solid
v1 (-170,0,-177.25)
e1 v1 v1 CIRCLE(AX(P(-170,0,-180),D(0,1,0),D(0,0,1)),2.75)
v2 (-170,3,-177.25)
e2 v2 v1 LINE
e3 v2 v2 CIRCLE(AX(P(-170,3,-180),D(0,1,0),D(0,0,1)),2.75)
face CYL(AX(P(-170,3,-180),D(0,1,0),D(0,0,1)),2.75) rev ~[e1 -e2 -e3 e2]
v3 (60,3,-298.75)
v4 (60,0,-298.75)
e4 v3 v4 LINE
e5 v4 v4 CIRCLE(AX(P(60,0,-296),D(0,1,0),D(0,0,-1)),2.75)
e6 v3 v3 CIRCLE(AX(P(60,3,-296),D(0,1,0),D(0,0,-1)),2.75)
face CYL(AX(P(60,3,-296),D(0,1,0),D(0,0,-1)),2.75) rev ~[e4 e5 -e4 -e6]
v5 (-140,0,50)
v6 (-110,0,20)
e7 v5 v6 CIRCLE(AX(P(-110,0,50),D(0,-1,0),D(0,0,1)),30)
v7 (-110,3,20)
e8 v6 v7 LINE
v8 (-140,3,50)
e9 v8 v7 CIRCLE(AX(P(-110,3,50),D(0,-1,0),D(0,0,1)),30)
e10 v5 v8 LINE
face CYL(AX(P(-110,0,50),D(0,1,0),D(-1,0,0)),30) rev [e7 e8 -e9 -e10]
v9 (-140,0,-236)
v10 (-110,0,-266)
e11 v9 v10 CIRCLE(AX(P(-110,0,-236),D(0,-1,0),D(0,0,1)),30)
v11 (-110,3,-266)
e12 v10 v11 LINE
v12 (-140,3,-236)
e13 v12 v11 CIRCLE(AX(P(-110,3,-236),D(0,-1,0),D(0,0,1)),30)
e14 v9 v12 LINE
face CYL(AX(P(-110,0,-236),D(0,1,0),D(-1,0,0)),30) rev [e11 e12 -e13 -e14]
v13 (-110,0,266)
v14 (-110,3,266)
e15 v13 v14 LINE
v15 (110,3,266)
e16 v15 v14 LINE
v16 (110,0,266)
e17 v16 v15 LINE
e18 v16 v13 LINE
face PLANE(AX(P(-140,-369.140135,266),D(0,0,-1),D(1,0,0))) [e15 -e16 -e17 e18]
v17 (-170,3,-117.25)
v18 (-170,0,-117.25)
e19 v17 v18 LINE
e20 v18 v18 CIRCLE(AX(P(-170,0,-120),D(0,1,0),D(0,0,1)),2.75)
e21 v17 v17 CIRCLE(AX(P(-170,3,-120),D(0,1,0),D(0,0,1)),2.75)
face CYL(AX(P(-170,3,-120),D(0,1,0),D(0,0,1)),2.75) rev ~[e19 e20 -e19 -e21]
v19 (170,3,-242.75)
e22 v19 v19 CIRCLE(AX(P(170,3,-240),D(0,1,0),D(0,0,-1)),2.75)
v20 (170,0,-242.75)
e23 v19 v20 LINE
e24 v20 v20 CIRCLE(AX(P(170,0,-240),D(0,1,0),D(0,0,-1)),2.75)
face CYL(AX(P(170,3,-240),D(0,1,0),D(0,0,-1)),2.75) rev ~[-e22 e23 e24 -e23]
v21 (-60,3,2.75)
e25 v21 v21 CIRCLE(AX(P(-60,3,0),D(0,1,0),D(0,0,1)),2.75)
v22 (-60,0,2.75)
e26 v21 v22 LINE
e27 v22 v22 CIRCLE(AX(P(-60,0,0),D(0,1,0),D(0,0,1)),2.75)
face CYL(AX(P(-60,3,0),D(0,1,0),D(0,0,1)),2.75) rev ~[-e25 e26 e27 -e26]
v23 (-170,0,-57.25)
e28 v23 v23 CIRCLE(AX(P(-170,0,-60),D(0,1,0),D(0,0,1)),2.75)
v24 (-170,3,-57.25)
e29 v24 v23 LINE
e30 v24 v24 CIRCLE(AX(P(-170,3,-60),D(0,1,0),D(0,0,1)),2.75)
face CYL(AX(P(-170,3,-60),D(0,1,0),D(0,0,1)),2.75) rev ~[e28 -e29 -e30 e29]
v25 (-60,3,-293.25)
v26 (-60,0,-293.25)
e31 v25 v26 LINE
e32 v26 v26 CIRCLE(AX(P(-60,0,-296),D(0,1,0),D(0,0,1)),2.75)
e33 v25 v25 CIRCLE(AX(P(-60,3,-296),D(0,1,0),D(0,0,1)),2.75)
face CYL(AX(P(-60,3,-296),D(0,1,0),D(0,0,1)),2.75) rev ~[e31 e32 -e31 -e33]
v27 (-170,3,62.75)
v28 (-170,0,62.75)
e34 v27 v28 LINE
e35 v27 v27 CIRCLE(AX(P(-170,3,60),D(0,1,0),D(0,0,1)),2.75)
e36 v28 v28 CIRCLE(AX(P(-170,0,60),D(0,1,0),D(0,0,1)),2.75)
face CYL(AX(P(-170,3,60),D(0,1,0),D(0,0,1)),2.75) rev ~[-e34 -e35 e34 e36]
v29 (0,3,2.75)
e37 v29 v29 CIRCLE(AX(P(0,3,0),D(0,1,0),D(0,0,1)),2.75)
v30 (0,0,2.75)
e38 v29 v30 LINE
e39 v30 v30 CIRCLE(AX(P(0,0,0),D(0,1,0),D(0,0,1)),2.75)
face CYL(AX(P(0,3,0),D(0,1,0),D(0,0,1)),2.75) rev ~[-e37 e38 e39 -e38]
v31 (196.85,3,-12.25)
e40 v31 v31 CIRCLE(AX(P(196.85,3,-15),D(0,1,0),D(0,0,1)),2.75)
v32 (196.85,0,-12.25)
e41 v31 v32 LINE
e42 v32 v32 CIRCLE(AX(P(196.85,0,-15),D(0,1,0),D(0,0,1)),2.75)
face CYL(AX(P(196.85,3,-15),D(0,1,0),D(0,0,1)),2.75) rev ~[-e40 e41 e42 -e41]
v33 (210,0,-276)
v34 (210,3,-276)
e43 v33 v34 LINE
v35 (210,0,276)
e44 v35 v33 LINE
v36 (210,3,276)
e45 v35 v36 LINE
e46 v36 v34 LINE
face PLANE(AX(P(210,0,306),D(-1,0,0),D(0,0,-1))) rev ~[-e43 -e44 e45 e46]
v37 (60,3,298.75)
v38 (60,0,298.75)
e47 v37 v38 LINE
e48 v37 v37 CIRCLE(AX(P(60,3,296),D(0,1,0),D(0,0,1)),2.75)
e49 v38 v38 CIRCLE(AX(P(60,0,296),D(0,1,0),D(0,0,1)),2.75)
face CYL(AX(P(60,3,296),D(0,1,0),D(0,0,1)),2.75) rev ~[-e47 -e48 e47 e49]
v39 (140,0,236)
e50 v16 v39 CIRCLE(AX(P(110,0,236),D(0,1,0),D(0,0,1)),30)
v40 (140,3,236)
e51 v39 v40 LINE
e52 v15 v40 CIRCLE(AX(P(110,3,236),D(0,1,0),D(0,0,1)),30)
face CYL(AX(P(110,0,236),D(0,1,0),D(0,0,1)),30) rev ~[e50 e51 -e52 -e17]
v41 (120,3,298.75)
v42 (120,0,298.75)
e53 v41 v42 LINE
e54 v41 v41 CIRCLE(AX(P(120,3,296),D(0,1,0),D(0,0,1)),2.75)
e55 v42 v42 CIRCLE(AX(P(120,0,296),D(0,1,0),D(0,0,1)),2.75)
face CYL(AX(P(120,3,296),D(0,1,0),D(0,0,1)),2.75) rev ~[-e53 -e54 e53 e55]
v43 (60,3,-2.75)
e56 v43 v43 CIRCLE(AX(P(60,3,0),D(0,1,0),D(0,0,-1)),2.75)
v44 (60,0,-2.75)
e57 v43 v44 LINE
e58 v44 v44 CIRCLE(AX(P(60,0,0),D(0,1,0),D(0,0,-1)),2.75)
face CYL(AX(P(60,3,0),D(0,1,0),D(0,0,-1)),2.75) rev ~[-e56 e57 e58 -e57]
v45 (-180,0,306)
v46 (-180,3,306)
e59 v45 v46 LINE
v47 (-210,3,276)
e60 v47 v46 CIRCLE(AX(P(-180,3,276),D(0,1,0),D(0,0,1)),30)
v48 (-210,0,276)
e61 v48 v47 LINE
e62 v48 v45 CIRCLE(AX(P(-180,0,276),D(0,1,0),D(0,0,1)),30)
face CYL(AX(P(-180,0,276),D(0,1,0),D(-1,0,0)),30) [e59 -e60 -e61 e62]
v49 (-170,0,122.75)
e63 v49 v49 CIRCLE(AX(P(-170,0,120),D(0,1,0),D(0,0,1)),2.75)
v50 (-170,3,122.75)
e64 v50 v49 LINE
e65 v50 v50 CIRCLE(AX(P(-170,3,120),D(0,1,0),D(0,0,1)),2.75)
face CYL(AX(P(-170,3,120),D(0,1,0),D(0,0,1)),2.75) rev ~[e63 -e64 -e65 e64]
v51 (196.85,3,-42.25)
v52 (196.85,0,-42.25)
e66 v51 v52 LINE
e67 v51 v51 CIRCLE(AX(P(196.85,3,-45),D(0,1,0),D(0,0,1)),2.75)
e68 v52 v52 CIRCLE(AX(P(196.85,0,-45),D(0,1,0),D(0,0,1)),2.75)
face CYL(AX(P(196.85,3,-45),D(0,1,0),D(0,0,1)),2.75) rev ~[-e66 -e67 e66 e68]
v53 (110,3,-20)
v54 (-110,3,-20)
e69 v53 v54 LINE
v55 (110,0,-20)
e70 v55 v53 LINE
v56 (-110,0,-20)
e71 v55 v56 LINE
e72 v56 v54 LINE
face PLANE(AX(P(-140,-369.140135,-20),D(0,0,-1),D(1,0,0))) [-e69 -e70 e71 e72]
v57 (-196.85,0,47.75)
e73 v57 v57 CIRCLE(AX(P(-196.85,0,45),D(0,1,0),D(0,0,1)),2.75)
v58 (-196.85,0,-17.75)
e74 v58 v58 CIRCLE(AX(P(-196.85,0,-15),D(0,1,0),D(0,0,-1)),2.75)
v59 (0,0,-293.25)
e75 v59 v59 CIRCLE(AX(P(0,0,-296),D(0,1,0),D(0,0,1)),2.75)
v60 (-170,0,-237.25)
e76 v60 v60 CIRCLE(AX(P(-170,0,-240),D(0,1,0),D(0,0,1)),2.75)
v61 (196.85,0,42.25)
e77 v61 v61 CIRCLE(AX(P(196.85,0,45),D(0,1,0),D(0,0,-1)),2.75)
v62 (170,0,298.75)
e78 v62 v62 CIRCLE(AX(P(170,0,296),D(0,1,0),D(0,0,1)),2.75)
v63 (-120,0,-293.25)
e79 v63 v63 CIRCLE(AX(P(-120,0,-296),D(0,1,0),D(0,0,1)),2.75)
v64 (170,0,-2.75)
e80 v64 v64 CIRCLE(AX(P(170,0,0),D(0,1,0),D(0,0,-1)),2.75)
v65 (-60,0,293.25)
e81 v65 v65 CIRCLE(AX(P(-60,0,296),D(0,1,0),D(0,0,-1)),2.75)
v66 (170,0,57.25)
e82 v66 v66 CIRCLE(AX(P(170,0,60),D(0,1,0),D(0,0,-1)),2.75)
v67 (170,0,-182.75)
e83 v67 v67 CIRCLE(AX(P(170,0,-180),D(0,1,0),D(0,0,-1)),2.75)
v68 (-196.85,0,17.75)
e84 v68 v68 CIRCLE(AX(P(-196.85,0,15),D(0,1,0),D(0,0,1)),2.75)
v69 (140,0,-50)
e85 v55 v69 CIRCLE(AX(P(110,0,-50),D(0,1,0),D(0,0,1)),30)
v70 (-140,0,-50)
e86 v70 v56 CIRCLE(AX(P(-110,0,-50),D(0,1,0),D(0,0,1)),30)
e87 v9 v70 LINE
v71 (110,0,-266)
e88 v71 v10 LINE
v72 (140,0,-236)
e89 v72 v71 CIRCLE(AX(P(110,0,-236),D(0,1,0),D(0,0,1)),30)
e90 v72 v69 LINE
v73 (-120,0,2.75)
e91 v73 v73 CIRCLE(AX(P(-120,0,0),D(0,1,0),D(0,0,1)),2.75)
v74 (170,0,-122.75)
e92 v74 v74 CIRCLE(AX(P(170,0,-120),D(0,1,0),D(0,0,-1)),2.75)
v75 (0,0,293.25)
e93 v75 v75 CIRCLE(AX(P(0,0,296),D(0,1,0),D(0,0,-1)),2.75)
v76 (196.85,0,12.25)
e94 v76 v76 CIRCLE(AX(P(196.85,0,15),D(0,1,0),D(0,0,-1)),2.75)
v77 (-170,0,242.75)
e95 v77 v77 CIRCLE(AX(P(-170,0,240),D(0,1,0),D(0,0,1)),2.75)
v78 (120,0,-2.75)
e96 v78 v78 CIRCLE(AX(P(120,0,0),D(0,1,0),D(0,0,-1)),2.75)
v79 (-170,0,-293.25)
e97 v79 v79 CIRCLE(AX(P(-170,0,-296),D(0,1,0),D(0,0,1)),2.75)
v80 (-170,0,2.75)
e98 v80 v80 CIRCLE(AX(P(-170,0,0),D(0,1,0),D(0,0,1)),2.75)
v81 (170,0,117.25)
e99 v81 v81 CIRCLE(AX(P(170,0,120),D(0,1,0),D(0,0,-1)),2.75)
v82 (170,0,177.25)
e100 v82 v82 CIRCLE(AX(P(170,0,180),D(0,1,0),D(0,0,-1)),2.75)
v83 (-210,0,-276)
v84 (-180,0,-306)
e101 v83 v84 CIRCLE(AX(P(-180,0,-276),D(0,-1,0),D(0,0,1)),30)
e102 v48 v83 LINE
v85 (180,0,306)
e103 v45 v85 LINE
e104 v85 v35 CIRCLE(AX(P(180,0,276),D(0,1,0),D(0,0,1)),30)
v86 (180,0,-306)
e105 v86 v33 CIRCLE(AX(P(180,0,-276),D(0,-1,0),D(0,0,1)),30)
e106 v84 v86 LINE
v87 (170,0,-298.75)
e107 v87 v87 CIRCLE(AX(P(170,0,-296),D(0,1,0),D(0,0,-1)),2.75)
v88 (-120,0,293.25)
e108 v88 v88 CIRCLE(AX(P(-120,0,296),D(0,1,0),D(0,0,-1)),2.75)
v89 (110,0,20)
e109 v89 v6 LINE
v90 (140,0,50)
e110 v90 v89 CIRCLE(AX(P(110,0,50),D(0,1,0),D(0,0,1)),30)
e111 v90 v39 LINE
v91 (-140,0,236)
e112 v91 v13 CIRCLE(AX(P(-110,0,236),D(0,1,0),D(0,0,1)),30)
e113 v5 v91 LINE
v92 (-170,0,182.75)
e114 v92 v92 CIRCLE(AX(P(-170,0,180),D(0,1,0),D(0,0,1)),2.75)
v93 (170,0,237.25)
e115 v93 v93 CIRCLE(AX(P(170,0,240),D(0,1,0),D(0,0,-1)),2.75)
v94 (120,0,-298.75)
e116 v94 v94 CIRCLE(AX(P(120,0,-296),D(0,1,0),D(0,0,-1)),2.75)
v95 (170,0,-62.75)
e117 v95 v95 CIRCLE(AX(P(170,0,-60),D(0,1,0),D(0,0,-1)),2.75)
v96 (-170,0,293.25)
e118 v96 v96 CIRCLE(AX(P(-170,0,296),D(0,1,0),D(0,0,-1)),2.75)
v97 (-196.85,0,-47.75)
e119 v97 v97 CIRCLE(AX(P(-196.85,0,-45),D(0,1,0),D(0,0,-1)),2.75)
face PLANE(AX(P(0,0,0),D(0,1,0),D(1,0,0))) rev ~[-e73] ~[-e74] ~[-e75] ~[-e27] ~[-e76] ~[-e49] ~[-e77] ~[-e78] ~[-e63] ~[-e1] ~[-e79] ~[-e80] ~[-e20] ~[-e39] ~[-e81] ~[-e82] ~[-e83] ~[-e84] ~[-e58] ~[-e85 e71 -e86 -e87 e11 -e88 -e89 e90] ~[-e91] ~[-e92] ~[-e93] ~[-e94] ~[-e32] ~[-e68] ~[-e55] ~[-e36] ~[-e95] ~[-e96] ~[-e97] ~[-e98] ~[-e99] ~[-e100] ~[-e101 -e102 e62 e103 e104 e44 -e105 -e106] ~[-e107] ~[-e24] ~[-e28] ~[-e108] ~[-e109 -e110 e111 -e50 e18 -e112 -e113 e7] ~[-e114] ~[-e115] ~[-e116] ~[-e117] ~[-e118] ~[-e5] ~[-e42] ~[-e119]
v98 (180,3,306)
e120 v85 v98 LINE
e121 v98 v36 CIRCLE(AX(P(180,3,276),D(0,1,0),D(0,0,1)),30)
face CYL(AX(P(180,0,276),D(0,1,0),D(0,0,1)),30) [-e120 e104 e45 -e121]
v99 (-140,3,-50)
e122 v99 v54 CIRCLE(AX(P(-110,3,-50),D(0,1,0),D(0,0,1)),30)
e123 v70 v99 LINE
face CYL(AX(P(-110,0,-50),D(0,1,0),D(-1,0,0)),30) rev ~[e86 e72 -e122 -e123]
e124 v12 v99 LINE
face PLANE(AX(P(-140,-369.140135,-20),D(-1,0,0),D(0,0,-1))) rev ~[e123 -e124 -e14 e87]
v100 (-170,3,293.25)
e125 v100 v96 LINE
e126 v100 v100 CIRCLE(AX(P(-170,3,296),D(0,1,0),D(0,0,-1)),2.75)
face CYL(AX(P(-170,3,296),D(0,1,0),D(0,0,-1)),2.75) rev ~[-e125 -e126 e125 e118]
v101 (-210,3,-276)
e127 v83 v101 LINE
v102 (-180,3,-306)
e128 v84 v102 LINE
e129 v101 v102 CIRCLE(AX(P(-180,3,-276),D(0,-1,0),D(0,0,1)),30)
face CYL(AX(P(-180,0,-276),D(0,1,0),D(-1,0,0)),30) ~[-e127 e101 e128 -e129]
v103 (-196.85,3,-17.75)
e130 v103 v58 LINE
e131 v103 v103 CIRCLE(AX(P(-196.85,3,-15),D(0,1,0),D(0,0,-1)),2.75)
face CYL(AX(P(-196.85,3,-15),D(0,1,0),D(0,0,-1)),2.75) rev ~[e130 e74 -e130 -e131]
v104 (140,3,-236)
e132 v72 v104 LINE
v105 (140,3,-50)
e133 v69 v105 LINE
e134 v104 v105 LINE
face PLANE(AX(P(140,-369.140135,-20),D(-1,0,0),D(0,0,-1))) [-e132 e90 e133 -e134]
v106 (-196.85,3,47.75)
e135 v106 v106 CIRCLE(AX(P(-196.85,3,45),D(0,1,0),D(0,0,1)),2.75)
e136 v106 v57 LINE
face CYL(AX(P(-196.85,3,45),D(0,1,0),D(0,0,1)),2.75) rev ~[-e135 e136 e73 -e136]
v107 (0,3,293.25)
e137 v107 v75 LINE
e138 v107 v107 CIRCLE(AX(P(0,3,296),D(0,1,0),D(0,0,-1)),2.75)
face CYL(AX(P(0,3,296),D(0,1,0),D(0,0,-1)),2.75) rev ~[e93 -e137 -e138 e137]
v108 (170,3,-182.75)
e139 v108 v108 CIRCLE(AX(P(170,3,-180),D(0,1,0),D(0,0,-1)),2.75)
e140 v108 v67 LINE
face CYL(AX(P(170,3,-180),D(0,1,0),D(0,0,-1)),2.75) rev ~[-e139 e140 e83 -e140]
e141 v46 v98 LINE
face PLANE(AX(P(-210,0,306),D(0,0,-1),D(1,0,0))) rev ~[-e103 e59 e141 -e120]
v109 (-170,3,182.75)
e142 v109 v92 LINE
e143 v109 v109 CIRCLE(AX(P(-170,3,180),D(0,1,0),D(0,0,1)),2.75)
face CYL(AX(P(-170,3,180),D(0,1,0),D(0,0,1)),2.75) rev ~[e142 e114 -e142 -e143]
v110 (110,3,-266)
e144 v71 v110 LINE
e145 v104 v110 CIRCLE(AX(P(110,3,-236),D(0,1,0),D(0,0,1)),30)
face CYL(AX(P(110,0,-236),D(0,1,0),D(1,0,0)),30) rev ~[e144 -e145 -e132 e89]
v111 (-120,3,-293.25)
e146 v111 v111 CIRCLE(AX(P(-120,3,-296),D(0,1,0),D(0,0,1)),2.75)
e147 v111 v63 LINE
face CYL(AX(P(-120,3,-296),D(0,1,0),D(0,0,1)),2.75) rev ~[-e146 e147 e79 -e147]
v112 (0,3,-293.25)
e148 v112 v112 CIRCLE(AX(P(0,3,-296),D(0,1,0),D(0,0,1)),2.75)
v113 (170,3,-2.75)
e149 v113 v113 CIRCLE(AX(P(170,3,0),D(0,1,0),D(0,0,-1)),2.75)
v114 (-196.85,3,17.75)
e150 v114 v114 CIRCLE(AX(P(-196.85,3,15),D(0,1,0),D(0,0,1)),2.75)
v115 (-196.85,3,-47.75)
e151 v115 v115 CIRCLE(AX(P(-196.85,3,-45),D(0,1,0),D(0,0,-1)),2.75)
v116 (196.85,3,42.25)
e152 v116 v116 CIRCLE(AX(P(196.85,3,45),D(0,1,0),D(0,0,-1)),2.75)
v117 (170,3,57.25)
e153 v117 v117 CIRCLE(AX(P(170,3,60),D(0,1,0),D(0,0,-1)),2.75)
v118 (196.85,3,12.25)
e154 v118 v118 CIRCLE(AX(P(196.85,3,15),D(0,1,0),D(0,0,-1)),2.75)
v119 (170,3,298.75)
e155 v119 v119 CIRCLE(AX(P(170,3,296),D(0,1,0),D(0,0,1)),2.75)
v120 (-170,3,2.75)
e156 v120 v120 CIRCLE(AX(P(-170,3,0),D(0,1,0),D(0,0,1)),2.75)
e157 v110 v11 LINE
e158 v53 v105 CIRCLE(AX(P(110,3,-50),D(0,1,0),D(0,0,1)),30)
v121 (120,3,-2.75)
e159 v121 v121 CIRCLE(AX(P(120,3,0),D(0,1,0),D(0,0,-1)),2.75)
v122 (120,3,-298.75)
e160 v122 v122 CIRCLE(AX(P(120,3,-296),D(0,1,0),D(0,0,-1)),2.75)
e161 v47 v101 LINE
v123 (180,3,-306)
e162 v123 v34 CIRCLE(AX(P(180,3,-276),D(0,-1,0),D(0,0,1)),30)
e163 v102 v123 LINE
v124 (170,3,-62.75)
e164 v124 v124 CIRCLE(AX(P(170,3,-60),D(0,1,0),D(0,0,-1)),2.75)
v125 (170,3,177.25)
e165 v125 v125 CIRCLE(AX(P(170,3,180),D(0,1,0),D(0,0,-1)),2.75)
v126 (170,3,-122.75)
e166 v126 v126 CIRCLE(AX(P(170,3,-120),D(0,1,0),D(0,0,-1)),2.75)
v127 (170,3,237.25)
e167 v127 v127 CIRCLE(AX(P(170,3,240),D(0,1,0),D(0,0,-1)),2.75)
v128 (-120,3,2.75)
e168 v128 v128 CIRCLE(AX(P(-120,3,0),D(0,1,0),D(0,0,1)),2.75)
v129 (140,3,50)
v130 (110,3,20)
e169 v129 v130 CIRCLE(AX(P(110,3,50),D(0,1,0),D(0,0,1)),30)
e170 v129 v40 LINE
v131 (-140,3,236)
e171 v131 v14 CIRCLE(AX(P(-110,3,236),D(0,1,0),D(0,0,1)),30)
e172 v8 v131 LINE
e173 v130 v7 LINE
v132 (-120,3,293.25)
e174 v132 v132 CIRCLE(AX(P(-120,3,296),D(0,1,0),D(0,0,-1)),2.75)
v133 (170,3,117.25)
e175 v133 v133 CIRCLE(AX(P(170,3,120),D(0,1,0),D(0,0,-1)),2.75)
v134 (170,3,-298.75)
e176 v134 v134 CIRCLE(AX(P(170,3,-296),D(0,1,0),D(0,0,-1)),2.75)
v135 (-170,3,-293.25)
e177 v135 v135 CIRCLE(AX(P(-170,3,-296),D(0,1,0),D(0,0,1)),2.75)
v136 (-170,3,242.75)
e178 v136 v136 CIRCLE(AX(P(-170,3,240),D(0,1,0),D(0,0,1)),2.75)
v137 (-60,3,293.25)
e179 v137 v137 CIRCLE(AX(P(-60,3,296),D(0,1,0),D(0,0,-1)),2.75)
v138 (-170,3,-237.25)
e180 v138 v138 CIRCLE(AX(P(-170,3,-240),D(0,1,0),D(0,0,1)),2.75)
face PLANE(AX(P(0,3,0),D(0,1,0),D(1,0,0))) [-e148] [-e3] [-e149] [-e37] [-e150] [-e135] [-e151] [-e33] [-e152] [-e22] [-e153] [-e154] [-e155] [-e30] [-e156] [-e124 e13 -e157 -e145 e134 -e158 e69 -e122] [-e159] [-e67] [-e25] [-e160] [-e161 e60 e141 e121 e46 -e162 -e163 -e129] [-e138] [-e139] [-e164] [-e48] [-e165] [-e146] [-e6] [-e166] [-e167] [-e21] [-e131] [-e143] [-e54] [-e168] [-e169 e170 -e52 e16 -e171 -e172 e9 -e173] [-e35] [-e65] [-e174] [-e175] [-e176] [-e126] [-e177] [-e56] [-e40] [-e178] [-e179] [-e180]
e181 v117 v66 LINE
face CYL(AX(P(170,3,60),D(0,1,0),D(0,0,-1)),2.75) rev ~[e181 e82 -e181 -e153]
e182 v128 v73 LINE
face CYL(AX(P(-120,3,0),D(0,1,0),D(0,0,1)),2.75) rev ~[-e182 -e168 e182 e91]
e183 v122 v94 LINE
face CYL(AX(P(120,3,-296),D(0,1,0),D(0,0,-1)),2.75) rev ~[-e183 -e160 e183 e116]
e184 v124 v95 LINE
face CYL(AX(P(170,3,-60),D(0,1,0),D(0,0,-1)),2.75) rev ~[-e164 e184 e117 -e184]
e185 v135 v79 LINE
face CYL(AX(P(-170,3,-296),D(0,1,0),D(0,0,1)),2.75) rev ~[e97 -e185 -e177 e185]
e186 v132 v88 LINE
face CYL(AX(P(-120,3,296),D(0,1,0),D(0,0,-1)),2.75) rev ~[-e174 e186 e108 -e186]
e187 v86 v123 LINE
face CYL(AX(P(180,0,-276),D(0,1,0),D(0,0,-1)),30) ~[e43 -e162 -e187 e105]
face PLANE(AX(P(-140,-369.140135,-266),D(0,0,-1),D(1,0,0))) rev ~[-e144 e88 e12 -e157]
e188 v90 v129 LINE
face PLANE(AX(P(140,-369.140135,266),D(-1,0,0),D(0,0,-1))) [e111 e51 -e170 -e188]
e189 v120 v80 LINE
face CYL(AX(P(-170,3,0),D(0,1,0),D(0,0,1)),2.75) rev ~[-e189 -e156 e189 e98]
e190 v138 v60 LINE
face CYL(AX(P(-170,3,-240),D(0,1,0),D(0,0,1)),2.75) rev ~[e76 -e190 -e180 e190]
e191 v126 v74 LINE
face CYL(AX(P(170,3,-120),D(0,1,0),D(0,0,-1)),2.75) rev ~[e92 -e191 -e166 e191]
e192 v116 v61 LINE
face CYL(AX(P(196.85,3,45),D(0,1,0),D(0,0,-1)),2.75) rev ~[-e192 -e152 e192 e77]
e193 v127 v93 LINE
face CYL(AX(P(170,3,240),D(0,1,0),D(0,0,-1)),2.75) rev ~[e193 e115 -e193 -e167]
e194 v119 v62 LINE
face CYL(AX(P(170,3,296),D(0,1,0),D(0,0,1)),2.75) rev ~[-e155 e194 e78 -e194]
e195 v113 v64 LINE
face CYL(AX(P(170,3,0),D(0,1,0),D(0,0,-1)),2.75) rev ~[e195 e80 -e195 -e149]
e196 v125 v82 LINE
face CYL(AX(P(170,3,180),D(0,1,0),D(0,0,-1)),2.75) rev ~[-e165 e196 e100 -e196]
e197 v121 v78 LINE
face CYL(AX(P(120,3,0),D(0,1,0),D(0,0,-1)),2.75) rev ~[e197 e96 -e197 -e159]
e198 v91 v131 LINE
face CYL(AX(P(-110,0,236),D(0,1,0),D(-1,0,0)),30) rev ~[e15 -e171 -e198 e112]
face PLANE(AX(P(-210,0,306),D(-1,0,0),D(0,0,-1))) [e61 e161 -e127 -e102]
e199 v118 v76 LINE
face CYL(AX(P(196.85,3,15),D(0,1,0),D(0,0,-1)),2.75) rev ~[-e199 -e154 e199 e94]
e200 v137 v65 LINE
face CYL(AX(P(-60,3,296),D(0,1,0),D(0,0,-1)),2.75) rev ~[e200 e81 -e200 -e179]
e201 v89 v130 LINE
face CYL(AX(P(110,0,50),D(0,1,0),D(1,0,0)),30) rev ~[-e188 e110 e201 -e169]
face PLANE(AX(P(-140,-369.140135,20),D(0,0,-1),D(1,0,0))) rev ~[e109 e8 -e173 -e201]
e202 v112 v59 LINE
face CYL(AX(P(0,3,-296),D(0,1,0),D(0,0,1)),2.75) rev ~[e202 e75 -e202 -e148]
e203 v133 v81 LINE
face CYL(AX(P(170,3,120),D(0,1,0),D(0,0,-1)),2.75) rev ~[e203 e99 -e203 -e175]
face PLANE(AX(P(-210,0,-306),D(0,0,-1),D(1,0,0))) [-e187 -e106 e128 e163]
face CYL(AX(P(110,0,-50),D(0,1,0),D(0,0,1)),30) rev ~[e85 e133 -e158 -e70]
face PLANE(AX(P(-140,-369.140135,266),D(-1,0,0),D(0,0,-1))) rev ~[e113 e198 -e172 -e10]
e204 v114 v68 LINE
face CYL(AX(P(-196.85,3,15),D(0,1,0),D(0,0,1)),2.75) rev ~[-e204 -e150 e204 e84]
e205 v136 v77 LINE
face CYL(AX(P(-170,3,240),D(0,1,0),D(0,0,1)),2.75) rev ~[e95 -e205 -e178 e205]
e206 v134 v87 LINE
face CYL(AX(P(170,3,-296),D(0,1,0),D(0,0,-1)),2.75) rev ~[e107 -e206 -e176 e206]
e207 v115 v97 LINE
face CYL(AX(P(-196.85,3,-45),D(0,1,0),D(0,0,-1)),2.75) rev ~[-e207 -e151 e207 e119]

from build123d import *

# Parameters (mm, degrees)
SKETCH1_W               = 420
SKETCH1_H               = 612
BOSS_EXTRUDE1_DEPTH     = 3
SKETCH_1_R              = 2.75
CUT_EXTRUDE_1_DEPTH     = 372.140135259
CUT_EXTRUDE1_DEPTH      = 372.140135259
CUT_EXTRUDE1_DEPTH_BACK = 372.140135259
SKETCH2_W               = 280
SKETCH2_H               = 246
FILLET1_R               = 30
FILLET2_R               = 30


with BuildPart() as part:
    # Sketch1 → Boss-Extrude1 (new body)
    with BuildSketch(Plane(origin=(0, 0, 0), x_dir=(1, 0, 0), z_dir=(0, 1, 0))):
        Rectangle(SKETCH1_W, SKETCH1_H)
    extrude(amount=BOSS_EXTRUDE1_DEPTH)

    # 草图1 → 切除-拉伸1 (cut, through all)
    with BuildSketch(Plane(origin=(0, 3, 0), x_dir=(1, 0, 0), z_dir=(0, 1, 0))):
        with Locations(Location((-170, 240, 0), (0, 0, 270))):
            Circle(SKETCH_1_R)
        with Locations(Location((-170, 180, 0), (0, 0, 270))):
            Circle(SKETCH_1_R)
        with Locations(Location((-196.85, -15, 0), (0, 0, 270))):
            Circle(SKETCH_1_R)
        with Locations(Location((-196.85, -45, 0), (0, 0, 270))):
            Circle(SKETCH_1_R)
        with Locations(Location((-196.85, 45, 0), (0, 0, 90))):
            Circle(SKETCH_1_R)
        with Locations(Location((-196.85, 15, 0), (0, 0, 90))):
            Circle(SKETCH_1_R)
        with Locations(Location((196.85, 15, 0), (0, 0, 270))):
            Circle(SKETCH_1_R)
        with Locations(Location((196.85, 45, 0), (0, 0, 270))):
            Circle(SKETCH_1_R)
        with Locations(Location((196.85, -45, 0), (0, 0, 90))):
            Circle(SKETCH_1_R)
        with Locations(Location((196.85, -15, 0), (0, 0, 90))):
            Circle(SKETCH_1_R)
        with Locations(Location((0, 0, 0), (0, 0, 270))):
            Circle(SKETCH_1_R)
        with Locations(Location((-60, 0, 0), (0, 0, 270))):
            Circle(SKETCH_1_R)
        with Locations(Location((-120, 0, 0), (0, 0, 270))):
            Circle(SKETCH_1_R)
        with Locations(Location((60, 0, 0), (0, 0, 90))):
            Circle(SKETCH_1_R)
        with Locations(Location((120, 0, 0), (0, 0, 90))):
            Circle(SKETCH_1_R)
        with Locations(Location((0, 296, 0), (0, 0, 270))):
            Circle(SKETCH_1_R)
        with Locations(Location((-60, 296, 0), (0, 0, 270))):
            Circle(SKETCH_1_R)
        with Locations(Location((-120, 296, 0), (0, 0, 270))):
            Circle(SKETCH_1_R)
        with Locations(Location((-170, 296, 0), (0, 0, 270))):
            Circle(SKETCH_1_R)
        with Locations(Location((170, 296, 0), (0, 0, 90))):
            Circle(SKETCH_1_R)
        with Locations(Location((-170, 120, 0), (0, 0, 270))):
            Circle(SKETCH_1_R)
        with Locations(Location((-170, 60, 0), (0, 0, 270))):
            Circle(SKETCH_1_R)
        with Locations(Location((-170, 0, 0), (0, 0, 270))):
            Circle(SKETCH_1_R)
        with Locations(Location((-170, -60, 0), (0, 0, 270))):
            Circle(SKETCH_1_R)
        with Locations(Location((-170, -120, 0), (0, 0, 270))):
            Circle(SKETCH_1_R)
        with Locations(Location((-170, -180, 0), (0, 0, 270))):
            Circle(SKETCH_1_R)
        with Locations(Location((-170, -240, 0), (0, 0, 270))):
            Circle(SKETCH_1_R)
        with Locations(Location((170, -240, 0), (0, 0, 90))):
            Circle(SKETCH_1_R)
        with Locations(Location((170, -180, 0), (0, 0, 90))):
            Circle(SKETCH_1_R)
        with Locations(Location((170, -120, 0), (0, 0, 90))):
            Circle(SKETCH_1_R)
        with Locations(Location((170, -60, 0), (0, 0, 90))):
            Circle(SKETCH_1_R)
        with Locations(Location((170, 0, 0), (0, 0, 90))):
            Circle(SKETCH_1_R)
        with Locations(Location((170, 60, 0), (0, 0, 90))):
            Circle(SKETCH_1_R)
        with Locations(Location((170, 120, 0), (0, 0, 90))):
            Circle(SKETCH_1_R)
        with Locations(Location((170, 180, 0), (0, 0, 90))):
            Circle(SKETCH_1_R)
        with Locations(Location((170, 240, 0), (0, 0, 90))):
            Circle(SKETCH_1_R)
        with Locations(Location((60, 296, 0), (0, 0, 90))):
            Circle(SKETCH_1_R)
        with Locations(Location((120, 296, 0), (0, 0, 90))):
            Circle(SKETCH_1_R)
        with Locations(Location((120, -296, 0), (0, 0, 270))):
            Circle(SKETCH_1_R)
        with Locations(Location((60, -296, 0), (0, 0, 270))):
            Circle(SKETCH_1_R)
        with Locations(Location((170, -296, 0), (0, 0, 270))):
            Circle(SKETCH_1_R)
        with Locations(Location((-170, -296, 0), (0, 0, 90))):
            Circle(SKETCH_1_R)
        with Locations(Location((-120, -296, 0), (0, 0, 90))):
            Circle(SKETCH_1_R)
        with Locations(Location((-60, -296, 0), (0, 0, 90))):
            Circle(SKETCH_1_R)
        with Locations(Location((0, -296, 0), (0, 0, 90))):
            Circle(SKETCH_1_R)
    extrude(amount=-CUT_EXTRUDE_1_DEPTH, mode=Mode.SUBTRACT)

    # Sketch2 → Cut-Extrude1 (cut, two sides: drawn at the far end of the back side and taken through both)
    with BuildSketch(Plane(origin=(0, 3, 0), x_dir=(1, 0, 0), z_dir=(0, 1, 0)).offset(-CUT_EXTRUDE1_DEPTH_BACK)):
        with Locations((0, 143)):
            Rectangle(SKETCH2_W, SKETCH2_H)
        with Locations((0, -143)):
            Rectangle(SKETCH2_W, SKETCH2_H)
    extrude(amount=CUT_EXTRUDE1_DEPTH + CUT_EXTRUDE1_DEPTH_BACK, mode=Mode.SUBTRACT)

    # Fillet1
    fillet1_edges = [part.edges().sort_by_distance(p)[0] for p in [
        (140, 1.5, -266),
        (140, 1.5, -20),
        (-140, 1.5, -20),
        (-140, 1.5, -266),
        (-140, 1.5, 266),
        (-140, 1.5, 20),
        (140, 1.5, 20),
        (140, 1.5, 266),
    ]]
    fillet(fillet1_edges, radius=FILLET1_R)

    # Fillet2
    fillet2_edges = [part.edges().sort_by_distance(p)[0] for p in [
        (210, 1.5, 306),
        (-210, 1.5, 306),
        (-210, 1.5, -306),
        (210, 1.5, -306),
    ]]
    fillet(fillet2_edges, radius=FILLET2_R)


solid = part.part
